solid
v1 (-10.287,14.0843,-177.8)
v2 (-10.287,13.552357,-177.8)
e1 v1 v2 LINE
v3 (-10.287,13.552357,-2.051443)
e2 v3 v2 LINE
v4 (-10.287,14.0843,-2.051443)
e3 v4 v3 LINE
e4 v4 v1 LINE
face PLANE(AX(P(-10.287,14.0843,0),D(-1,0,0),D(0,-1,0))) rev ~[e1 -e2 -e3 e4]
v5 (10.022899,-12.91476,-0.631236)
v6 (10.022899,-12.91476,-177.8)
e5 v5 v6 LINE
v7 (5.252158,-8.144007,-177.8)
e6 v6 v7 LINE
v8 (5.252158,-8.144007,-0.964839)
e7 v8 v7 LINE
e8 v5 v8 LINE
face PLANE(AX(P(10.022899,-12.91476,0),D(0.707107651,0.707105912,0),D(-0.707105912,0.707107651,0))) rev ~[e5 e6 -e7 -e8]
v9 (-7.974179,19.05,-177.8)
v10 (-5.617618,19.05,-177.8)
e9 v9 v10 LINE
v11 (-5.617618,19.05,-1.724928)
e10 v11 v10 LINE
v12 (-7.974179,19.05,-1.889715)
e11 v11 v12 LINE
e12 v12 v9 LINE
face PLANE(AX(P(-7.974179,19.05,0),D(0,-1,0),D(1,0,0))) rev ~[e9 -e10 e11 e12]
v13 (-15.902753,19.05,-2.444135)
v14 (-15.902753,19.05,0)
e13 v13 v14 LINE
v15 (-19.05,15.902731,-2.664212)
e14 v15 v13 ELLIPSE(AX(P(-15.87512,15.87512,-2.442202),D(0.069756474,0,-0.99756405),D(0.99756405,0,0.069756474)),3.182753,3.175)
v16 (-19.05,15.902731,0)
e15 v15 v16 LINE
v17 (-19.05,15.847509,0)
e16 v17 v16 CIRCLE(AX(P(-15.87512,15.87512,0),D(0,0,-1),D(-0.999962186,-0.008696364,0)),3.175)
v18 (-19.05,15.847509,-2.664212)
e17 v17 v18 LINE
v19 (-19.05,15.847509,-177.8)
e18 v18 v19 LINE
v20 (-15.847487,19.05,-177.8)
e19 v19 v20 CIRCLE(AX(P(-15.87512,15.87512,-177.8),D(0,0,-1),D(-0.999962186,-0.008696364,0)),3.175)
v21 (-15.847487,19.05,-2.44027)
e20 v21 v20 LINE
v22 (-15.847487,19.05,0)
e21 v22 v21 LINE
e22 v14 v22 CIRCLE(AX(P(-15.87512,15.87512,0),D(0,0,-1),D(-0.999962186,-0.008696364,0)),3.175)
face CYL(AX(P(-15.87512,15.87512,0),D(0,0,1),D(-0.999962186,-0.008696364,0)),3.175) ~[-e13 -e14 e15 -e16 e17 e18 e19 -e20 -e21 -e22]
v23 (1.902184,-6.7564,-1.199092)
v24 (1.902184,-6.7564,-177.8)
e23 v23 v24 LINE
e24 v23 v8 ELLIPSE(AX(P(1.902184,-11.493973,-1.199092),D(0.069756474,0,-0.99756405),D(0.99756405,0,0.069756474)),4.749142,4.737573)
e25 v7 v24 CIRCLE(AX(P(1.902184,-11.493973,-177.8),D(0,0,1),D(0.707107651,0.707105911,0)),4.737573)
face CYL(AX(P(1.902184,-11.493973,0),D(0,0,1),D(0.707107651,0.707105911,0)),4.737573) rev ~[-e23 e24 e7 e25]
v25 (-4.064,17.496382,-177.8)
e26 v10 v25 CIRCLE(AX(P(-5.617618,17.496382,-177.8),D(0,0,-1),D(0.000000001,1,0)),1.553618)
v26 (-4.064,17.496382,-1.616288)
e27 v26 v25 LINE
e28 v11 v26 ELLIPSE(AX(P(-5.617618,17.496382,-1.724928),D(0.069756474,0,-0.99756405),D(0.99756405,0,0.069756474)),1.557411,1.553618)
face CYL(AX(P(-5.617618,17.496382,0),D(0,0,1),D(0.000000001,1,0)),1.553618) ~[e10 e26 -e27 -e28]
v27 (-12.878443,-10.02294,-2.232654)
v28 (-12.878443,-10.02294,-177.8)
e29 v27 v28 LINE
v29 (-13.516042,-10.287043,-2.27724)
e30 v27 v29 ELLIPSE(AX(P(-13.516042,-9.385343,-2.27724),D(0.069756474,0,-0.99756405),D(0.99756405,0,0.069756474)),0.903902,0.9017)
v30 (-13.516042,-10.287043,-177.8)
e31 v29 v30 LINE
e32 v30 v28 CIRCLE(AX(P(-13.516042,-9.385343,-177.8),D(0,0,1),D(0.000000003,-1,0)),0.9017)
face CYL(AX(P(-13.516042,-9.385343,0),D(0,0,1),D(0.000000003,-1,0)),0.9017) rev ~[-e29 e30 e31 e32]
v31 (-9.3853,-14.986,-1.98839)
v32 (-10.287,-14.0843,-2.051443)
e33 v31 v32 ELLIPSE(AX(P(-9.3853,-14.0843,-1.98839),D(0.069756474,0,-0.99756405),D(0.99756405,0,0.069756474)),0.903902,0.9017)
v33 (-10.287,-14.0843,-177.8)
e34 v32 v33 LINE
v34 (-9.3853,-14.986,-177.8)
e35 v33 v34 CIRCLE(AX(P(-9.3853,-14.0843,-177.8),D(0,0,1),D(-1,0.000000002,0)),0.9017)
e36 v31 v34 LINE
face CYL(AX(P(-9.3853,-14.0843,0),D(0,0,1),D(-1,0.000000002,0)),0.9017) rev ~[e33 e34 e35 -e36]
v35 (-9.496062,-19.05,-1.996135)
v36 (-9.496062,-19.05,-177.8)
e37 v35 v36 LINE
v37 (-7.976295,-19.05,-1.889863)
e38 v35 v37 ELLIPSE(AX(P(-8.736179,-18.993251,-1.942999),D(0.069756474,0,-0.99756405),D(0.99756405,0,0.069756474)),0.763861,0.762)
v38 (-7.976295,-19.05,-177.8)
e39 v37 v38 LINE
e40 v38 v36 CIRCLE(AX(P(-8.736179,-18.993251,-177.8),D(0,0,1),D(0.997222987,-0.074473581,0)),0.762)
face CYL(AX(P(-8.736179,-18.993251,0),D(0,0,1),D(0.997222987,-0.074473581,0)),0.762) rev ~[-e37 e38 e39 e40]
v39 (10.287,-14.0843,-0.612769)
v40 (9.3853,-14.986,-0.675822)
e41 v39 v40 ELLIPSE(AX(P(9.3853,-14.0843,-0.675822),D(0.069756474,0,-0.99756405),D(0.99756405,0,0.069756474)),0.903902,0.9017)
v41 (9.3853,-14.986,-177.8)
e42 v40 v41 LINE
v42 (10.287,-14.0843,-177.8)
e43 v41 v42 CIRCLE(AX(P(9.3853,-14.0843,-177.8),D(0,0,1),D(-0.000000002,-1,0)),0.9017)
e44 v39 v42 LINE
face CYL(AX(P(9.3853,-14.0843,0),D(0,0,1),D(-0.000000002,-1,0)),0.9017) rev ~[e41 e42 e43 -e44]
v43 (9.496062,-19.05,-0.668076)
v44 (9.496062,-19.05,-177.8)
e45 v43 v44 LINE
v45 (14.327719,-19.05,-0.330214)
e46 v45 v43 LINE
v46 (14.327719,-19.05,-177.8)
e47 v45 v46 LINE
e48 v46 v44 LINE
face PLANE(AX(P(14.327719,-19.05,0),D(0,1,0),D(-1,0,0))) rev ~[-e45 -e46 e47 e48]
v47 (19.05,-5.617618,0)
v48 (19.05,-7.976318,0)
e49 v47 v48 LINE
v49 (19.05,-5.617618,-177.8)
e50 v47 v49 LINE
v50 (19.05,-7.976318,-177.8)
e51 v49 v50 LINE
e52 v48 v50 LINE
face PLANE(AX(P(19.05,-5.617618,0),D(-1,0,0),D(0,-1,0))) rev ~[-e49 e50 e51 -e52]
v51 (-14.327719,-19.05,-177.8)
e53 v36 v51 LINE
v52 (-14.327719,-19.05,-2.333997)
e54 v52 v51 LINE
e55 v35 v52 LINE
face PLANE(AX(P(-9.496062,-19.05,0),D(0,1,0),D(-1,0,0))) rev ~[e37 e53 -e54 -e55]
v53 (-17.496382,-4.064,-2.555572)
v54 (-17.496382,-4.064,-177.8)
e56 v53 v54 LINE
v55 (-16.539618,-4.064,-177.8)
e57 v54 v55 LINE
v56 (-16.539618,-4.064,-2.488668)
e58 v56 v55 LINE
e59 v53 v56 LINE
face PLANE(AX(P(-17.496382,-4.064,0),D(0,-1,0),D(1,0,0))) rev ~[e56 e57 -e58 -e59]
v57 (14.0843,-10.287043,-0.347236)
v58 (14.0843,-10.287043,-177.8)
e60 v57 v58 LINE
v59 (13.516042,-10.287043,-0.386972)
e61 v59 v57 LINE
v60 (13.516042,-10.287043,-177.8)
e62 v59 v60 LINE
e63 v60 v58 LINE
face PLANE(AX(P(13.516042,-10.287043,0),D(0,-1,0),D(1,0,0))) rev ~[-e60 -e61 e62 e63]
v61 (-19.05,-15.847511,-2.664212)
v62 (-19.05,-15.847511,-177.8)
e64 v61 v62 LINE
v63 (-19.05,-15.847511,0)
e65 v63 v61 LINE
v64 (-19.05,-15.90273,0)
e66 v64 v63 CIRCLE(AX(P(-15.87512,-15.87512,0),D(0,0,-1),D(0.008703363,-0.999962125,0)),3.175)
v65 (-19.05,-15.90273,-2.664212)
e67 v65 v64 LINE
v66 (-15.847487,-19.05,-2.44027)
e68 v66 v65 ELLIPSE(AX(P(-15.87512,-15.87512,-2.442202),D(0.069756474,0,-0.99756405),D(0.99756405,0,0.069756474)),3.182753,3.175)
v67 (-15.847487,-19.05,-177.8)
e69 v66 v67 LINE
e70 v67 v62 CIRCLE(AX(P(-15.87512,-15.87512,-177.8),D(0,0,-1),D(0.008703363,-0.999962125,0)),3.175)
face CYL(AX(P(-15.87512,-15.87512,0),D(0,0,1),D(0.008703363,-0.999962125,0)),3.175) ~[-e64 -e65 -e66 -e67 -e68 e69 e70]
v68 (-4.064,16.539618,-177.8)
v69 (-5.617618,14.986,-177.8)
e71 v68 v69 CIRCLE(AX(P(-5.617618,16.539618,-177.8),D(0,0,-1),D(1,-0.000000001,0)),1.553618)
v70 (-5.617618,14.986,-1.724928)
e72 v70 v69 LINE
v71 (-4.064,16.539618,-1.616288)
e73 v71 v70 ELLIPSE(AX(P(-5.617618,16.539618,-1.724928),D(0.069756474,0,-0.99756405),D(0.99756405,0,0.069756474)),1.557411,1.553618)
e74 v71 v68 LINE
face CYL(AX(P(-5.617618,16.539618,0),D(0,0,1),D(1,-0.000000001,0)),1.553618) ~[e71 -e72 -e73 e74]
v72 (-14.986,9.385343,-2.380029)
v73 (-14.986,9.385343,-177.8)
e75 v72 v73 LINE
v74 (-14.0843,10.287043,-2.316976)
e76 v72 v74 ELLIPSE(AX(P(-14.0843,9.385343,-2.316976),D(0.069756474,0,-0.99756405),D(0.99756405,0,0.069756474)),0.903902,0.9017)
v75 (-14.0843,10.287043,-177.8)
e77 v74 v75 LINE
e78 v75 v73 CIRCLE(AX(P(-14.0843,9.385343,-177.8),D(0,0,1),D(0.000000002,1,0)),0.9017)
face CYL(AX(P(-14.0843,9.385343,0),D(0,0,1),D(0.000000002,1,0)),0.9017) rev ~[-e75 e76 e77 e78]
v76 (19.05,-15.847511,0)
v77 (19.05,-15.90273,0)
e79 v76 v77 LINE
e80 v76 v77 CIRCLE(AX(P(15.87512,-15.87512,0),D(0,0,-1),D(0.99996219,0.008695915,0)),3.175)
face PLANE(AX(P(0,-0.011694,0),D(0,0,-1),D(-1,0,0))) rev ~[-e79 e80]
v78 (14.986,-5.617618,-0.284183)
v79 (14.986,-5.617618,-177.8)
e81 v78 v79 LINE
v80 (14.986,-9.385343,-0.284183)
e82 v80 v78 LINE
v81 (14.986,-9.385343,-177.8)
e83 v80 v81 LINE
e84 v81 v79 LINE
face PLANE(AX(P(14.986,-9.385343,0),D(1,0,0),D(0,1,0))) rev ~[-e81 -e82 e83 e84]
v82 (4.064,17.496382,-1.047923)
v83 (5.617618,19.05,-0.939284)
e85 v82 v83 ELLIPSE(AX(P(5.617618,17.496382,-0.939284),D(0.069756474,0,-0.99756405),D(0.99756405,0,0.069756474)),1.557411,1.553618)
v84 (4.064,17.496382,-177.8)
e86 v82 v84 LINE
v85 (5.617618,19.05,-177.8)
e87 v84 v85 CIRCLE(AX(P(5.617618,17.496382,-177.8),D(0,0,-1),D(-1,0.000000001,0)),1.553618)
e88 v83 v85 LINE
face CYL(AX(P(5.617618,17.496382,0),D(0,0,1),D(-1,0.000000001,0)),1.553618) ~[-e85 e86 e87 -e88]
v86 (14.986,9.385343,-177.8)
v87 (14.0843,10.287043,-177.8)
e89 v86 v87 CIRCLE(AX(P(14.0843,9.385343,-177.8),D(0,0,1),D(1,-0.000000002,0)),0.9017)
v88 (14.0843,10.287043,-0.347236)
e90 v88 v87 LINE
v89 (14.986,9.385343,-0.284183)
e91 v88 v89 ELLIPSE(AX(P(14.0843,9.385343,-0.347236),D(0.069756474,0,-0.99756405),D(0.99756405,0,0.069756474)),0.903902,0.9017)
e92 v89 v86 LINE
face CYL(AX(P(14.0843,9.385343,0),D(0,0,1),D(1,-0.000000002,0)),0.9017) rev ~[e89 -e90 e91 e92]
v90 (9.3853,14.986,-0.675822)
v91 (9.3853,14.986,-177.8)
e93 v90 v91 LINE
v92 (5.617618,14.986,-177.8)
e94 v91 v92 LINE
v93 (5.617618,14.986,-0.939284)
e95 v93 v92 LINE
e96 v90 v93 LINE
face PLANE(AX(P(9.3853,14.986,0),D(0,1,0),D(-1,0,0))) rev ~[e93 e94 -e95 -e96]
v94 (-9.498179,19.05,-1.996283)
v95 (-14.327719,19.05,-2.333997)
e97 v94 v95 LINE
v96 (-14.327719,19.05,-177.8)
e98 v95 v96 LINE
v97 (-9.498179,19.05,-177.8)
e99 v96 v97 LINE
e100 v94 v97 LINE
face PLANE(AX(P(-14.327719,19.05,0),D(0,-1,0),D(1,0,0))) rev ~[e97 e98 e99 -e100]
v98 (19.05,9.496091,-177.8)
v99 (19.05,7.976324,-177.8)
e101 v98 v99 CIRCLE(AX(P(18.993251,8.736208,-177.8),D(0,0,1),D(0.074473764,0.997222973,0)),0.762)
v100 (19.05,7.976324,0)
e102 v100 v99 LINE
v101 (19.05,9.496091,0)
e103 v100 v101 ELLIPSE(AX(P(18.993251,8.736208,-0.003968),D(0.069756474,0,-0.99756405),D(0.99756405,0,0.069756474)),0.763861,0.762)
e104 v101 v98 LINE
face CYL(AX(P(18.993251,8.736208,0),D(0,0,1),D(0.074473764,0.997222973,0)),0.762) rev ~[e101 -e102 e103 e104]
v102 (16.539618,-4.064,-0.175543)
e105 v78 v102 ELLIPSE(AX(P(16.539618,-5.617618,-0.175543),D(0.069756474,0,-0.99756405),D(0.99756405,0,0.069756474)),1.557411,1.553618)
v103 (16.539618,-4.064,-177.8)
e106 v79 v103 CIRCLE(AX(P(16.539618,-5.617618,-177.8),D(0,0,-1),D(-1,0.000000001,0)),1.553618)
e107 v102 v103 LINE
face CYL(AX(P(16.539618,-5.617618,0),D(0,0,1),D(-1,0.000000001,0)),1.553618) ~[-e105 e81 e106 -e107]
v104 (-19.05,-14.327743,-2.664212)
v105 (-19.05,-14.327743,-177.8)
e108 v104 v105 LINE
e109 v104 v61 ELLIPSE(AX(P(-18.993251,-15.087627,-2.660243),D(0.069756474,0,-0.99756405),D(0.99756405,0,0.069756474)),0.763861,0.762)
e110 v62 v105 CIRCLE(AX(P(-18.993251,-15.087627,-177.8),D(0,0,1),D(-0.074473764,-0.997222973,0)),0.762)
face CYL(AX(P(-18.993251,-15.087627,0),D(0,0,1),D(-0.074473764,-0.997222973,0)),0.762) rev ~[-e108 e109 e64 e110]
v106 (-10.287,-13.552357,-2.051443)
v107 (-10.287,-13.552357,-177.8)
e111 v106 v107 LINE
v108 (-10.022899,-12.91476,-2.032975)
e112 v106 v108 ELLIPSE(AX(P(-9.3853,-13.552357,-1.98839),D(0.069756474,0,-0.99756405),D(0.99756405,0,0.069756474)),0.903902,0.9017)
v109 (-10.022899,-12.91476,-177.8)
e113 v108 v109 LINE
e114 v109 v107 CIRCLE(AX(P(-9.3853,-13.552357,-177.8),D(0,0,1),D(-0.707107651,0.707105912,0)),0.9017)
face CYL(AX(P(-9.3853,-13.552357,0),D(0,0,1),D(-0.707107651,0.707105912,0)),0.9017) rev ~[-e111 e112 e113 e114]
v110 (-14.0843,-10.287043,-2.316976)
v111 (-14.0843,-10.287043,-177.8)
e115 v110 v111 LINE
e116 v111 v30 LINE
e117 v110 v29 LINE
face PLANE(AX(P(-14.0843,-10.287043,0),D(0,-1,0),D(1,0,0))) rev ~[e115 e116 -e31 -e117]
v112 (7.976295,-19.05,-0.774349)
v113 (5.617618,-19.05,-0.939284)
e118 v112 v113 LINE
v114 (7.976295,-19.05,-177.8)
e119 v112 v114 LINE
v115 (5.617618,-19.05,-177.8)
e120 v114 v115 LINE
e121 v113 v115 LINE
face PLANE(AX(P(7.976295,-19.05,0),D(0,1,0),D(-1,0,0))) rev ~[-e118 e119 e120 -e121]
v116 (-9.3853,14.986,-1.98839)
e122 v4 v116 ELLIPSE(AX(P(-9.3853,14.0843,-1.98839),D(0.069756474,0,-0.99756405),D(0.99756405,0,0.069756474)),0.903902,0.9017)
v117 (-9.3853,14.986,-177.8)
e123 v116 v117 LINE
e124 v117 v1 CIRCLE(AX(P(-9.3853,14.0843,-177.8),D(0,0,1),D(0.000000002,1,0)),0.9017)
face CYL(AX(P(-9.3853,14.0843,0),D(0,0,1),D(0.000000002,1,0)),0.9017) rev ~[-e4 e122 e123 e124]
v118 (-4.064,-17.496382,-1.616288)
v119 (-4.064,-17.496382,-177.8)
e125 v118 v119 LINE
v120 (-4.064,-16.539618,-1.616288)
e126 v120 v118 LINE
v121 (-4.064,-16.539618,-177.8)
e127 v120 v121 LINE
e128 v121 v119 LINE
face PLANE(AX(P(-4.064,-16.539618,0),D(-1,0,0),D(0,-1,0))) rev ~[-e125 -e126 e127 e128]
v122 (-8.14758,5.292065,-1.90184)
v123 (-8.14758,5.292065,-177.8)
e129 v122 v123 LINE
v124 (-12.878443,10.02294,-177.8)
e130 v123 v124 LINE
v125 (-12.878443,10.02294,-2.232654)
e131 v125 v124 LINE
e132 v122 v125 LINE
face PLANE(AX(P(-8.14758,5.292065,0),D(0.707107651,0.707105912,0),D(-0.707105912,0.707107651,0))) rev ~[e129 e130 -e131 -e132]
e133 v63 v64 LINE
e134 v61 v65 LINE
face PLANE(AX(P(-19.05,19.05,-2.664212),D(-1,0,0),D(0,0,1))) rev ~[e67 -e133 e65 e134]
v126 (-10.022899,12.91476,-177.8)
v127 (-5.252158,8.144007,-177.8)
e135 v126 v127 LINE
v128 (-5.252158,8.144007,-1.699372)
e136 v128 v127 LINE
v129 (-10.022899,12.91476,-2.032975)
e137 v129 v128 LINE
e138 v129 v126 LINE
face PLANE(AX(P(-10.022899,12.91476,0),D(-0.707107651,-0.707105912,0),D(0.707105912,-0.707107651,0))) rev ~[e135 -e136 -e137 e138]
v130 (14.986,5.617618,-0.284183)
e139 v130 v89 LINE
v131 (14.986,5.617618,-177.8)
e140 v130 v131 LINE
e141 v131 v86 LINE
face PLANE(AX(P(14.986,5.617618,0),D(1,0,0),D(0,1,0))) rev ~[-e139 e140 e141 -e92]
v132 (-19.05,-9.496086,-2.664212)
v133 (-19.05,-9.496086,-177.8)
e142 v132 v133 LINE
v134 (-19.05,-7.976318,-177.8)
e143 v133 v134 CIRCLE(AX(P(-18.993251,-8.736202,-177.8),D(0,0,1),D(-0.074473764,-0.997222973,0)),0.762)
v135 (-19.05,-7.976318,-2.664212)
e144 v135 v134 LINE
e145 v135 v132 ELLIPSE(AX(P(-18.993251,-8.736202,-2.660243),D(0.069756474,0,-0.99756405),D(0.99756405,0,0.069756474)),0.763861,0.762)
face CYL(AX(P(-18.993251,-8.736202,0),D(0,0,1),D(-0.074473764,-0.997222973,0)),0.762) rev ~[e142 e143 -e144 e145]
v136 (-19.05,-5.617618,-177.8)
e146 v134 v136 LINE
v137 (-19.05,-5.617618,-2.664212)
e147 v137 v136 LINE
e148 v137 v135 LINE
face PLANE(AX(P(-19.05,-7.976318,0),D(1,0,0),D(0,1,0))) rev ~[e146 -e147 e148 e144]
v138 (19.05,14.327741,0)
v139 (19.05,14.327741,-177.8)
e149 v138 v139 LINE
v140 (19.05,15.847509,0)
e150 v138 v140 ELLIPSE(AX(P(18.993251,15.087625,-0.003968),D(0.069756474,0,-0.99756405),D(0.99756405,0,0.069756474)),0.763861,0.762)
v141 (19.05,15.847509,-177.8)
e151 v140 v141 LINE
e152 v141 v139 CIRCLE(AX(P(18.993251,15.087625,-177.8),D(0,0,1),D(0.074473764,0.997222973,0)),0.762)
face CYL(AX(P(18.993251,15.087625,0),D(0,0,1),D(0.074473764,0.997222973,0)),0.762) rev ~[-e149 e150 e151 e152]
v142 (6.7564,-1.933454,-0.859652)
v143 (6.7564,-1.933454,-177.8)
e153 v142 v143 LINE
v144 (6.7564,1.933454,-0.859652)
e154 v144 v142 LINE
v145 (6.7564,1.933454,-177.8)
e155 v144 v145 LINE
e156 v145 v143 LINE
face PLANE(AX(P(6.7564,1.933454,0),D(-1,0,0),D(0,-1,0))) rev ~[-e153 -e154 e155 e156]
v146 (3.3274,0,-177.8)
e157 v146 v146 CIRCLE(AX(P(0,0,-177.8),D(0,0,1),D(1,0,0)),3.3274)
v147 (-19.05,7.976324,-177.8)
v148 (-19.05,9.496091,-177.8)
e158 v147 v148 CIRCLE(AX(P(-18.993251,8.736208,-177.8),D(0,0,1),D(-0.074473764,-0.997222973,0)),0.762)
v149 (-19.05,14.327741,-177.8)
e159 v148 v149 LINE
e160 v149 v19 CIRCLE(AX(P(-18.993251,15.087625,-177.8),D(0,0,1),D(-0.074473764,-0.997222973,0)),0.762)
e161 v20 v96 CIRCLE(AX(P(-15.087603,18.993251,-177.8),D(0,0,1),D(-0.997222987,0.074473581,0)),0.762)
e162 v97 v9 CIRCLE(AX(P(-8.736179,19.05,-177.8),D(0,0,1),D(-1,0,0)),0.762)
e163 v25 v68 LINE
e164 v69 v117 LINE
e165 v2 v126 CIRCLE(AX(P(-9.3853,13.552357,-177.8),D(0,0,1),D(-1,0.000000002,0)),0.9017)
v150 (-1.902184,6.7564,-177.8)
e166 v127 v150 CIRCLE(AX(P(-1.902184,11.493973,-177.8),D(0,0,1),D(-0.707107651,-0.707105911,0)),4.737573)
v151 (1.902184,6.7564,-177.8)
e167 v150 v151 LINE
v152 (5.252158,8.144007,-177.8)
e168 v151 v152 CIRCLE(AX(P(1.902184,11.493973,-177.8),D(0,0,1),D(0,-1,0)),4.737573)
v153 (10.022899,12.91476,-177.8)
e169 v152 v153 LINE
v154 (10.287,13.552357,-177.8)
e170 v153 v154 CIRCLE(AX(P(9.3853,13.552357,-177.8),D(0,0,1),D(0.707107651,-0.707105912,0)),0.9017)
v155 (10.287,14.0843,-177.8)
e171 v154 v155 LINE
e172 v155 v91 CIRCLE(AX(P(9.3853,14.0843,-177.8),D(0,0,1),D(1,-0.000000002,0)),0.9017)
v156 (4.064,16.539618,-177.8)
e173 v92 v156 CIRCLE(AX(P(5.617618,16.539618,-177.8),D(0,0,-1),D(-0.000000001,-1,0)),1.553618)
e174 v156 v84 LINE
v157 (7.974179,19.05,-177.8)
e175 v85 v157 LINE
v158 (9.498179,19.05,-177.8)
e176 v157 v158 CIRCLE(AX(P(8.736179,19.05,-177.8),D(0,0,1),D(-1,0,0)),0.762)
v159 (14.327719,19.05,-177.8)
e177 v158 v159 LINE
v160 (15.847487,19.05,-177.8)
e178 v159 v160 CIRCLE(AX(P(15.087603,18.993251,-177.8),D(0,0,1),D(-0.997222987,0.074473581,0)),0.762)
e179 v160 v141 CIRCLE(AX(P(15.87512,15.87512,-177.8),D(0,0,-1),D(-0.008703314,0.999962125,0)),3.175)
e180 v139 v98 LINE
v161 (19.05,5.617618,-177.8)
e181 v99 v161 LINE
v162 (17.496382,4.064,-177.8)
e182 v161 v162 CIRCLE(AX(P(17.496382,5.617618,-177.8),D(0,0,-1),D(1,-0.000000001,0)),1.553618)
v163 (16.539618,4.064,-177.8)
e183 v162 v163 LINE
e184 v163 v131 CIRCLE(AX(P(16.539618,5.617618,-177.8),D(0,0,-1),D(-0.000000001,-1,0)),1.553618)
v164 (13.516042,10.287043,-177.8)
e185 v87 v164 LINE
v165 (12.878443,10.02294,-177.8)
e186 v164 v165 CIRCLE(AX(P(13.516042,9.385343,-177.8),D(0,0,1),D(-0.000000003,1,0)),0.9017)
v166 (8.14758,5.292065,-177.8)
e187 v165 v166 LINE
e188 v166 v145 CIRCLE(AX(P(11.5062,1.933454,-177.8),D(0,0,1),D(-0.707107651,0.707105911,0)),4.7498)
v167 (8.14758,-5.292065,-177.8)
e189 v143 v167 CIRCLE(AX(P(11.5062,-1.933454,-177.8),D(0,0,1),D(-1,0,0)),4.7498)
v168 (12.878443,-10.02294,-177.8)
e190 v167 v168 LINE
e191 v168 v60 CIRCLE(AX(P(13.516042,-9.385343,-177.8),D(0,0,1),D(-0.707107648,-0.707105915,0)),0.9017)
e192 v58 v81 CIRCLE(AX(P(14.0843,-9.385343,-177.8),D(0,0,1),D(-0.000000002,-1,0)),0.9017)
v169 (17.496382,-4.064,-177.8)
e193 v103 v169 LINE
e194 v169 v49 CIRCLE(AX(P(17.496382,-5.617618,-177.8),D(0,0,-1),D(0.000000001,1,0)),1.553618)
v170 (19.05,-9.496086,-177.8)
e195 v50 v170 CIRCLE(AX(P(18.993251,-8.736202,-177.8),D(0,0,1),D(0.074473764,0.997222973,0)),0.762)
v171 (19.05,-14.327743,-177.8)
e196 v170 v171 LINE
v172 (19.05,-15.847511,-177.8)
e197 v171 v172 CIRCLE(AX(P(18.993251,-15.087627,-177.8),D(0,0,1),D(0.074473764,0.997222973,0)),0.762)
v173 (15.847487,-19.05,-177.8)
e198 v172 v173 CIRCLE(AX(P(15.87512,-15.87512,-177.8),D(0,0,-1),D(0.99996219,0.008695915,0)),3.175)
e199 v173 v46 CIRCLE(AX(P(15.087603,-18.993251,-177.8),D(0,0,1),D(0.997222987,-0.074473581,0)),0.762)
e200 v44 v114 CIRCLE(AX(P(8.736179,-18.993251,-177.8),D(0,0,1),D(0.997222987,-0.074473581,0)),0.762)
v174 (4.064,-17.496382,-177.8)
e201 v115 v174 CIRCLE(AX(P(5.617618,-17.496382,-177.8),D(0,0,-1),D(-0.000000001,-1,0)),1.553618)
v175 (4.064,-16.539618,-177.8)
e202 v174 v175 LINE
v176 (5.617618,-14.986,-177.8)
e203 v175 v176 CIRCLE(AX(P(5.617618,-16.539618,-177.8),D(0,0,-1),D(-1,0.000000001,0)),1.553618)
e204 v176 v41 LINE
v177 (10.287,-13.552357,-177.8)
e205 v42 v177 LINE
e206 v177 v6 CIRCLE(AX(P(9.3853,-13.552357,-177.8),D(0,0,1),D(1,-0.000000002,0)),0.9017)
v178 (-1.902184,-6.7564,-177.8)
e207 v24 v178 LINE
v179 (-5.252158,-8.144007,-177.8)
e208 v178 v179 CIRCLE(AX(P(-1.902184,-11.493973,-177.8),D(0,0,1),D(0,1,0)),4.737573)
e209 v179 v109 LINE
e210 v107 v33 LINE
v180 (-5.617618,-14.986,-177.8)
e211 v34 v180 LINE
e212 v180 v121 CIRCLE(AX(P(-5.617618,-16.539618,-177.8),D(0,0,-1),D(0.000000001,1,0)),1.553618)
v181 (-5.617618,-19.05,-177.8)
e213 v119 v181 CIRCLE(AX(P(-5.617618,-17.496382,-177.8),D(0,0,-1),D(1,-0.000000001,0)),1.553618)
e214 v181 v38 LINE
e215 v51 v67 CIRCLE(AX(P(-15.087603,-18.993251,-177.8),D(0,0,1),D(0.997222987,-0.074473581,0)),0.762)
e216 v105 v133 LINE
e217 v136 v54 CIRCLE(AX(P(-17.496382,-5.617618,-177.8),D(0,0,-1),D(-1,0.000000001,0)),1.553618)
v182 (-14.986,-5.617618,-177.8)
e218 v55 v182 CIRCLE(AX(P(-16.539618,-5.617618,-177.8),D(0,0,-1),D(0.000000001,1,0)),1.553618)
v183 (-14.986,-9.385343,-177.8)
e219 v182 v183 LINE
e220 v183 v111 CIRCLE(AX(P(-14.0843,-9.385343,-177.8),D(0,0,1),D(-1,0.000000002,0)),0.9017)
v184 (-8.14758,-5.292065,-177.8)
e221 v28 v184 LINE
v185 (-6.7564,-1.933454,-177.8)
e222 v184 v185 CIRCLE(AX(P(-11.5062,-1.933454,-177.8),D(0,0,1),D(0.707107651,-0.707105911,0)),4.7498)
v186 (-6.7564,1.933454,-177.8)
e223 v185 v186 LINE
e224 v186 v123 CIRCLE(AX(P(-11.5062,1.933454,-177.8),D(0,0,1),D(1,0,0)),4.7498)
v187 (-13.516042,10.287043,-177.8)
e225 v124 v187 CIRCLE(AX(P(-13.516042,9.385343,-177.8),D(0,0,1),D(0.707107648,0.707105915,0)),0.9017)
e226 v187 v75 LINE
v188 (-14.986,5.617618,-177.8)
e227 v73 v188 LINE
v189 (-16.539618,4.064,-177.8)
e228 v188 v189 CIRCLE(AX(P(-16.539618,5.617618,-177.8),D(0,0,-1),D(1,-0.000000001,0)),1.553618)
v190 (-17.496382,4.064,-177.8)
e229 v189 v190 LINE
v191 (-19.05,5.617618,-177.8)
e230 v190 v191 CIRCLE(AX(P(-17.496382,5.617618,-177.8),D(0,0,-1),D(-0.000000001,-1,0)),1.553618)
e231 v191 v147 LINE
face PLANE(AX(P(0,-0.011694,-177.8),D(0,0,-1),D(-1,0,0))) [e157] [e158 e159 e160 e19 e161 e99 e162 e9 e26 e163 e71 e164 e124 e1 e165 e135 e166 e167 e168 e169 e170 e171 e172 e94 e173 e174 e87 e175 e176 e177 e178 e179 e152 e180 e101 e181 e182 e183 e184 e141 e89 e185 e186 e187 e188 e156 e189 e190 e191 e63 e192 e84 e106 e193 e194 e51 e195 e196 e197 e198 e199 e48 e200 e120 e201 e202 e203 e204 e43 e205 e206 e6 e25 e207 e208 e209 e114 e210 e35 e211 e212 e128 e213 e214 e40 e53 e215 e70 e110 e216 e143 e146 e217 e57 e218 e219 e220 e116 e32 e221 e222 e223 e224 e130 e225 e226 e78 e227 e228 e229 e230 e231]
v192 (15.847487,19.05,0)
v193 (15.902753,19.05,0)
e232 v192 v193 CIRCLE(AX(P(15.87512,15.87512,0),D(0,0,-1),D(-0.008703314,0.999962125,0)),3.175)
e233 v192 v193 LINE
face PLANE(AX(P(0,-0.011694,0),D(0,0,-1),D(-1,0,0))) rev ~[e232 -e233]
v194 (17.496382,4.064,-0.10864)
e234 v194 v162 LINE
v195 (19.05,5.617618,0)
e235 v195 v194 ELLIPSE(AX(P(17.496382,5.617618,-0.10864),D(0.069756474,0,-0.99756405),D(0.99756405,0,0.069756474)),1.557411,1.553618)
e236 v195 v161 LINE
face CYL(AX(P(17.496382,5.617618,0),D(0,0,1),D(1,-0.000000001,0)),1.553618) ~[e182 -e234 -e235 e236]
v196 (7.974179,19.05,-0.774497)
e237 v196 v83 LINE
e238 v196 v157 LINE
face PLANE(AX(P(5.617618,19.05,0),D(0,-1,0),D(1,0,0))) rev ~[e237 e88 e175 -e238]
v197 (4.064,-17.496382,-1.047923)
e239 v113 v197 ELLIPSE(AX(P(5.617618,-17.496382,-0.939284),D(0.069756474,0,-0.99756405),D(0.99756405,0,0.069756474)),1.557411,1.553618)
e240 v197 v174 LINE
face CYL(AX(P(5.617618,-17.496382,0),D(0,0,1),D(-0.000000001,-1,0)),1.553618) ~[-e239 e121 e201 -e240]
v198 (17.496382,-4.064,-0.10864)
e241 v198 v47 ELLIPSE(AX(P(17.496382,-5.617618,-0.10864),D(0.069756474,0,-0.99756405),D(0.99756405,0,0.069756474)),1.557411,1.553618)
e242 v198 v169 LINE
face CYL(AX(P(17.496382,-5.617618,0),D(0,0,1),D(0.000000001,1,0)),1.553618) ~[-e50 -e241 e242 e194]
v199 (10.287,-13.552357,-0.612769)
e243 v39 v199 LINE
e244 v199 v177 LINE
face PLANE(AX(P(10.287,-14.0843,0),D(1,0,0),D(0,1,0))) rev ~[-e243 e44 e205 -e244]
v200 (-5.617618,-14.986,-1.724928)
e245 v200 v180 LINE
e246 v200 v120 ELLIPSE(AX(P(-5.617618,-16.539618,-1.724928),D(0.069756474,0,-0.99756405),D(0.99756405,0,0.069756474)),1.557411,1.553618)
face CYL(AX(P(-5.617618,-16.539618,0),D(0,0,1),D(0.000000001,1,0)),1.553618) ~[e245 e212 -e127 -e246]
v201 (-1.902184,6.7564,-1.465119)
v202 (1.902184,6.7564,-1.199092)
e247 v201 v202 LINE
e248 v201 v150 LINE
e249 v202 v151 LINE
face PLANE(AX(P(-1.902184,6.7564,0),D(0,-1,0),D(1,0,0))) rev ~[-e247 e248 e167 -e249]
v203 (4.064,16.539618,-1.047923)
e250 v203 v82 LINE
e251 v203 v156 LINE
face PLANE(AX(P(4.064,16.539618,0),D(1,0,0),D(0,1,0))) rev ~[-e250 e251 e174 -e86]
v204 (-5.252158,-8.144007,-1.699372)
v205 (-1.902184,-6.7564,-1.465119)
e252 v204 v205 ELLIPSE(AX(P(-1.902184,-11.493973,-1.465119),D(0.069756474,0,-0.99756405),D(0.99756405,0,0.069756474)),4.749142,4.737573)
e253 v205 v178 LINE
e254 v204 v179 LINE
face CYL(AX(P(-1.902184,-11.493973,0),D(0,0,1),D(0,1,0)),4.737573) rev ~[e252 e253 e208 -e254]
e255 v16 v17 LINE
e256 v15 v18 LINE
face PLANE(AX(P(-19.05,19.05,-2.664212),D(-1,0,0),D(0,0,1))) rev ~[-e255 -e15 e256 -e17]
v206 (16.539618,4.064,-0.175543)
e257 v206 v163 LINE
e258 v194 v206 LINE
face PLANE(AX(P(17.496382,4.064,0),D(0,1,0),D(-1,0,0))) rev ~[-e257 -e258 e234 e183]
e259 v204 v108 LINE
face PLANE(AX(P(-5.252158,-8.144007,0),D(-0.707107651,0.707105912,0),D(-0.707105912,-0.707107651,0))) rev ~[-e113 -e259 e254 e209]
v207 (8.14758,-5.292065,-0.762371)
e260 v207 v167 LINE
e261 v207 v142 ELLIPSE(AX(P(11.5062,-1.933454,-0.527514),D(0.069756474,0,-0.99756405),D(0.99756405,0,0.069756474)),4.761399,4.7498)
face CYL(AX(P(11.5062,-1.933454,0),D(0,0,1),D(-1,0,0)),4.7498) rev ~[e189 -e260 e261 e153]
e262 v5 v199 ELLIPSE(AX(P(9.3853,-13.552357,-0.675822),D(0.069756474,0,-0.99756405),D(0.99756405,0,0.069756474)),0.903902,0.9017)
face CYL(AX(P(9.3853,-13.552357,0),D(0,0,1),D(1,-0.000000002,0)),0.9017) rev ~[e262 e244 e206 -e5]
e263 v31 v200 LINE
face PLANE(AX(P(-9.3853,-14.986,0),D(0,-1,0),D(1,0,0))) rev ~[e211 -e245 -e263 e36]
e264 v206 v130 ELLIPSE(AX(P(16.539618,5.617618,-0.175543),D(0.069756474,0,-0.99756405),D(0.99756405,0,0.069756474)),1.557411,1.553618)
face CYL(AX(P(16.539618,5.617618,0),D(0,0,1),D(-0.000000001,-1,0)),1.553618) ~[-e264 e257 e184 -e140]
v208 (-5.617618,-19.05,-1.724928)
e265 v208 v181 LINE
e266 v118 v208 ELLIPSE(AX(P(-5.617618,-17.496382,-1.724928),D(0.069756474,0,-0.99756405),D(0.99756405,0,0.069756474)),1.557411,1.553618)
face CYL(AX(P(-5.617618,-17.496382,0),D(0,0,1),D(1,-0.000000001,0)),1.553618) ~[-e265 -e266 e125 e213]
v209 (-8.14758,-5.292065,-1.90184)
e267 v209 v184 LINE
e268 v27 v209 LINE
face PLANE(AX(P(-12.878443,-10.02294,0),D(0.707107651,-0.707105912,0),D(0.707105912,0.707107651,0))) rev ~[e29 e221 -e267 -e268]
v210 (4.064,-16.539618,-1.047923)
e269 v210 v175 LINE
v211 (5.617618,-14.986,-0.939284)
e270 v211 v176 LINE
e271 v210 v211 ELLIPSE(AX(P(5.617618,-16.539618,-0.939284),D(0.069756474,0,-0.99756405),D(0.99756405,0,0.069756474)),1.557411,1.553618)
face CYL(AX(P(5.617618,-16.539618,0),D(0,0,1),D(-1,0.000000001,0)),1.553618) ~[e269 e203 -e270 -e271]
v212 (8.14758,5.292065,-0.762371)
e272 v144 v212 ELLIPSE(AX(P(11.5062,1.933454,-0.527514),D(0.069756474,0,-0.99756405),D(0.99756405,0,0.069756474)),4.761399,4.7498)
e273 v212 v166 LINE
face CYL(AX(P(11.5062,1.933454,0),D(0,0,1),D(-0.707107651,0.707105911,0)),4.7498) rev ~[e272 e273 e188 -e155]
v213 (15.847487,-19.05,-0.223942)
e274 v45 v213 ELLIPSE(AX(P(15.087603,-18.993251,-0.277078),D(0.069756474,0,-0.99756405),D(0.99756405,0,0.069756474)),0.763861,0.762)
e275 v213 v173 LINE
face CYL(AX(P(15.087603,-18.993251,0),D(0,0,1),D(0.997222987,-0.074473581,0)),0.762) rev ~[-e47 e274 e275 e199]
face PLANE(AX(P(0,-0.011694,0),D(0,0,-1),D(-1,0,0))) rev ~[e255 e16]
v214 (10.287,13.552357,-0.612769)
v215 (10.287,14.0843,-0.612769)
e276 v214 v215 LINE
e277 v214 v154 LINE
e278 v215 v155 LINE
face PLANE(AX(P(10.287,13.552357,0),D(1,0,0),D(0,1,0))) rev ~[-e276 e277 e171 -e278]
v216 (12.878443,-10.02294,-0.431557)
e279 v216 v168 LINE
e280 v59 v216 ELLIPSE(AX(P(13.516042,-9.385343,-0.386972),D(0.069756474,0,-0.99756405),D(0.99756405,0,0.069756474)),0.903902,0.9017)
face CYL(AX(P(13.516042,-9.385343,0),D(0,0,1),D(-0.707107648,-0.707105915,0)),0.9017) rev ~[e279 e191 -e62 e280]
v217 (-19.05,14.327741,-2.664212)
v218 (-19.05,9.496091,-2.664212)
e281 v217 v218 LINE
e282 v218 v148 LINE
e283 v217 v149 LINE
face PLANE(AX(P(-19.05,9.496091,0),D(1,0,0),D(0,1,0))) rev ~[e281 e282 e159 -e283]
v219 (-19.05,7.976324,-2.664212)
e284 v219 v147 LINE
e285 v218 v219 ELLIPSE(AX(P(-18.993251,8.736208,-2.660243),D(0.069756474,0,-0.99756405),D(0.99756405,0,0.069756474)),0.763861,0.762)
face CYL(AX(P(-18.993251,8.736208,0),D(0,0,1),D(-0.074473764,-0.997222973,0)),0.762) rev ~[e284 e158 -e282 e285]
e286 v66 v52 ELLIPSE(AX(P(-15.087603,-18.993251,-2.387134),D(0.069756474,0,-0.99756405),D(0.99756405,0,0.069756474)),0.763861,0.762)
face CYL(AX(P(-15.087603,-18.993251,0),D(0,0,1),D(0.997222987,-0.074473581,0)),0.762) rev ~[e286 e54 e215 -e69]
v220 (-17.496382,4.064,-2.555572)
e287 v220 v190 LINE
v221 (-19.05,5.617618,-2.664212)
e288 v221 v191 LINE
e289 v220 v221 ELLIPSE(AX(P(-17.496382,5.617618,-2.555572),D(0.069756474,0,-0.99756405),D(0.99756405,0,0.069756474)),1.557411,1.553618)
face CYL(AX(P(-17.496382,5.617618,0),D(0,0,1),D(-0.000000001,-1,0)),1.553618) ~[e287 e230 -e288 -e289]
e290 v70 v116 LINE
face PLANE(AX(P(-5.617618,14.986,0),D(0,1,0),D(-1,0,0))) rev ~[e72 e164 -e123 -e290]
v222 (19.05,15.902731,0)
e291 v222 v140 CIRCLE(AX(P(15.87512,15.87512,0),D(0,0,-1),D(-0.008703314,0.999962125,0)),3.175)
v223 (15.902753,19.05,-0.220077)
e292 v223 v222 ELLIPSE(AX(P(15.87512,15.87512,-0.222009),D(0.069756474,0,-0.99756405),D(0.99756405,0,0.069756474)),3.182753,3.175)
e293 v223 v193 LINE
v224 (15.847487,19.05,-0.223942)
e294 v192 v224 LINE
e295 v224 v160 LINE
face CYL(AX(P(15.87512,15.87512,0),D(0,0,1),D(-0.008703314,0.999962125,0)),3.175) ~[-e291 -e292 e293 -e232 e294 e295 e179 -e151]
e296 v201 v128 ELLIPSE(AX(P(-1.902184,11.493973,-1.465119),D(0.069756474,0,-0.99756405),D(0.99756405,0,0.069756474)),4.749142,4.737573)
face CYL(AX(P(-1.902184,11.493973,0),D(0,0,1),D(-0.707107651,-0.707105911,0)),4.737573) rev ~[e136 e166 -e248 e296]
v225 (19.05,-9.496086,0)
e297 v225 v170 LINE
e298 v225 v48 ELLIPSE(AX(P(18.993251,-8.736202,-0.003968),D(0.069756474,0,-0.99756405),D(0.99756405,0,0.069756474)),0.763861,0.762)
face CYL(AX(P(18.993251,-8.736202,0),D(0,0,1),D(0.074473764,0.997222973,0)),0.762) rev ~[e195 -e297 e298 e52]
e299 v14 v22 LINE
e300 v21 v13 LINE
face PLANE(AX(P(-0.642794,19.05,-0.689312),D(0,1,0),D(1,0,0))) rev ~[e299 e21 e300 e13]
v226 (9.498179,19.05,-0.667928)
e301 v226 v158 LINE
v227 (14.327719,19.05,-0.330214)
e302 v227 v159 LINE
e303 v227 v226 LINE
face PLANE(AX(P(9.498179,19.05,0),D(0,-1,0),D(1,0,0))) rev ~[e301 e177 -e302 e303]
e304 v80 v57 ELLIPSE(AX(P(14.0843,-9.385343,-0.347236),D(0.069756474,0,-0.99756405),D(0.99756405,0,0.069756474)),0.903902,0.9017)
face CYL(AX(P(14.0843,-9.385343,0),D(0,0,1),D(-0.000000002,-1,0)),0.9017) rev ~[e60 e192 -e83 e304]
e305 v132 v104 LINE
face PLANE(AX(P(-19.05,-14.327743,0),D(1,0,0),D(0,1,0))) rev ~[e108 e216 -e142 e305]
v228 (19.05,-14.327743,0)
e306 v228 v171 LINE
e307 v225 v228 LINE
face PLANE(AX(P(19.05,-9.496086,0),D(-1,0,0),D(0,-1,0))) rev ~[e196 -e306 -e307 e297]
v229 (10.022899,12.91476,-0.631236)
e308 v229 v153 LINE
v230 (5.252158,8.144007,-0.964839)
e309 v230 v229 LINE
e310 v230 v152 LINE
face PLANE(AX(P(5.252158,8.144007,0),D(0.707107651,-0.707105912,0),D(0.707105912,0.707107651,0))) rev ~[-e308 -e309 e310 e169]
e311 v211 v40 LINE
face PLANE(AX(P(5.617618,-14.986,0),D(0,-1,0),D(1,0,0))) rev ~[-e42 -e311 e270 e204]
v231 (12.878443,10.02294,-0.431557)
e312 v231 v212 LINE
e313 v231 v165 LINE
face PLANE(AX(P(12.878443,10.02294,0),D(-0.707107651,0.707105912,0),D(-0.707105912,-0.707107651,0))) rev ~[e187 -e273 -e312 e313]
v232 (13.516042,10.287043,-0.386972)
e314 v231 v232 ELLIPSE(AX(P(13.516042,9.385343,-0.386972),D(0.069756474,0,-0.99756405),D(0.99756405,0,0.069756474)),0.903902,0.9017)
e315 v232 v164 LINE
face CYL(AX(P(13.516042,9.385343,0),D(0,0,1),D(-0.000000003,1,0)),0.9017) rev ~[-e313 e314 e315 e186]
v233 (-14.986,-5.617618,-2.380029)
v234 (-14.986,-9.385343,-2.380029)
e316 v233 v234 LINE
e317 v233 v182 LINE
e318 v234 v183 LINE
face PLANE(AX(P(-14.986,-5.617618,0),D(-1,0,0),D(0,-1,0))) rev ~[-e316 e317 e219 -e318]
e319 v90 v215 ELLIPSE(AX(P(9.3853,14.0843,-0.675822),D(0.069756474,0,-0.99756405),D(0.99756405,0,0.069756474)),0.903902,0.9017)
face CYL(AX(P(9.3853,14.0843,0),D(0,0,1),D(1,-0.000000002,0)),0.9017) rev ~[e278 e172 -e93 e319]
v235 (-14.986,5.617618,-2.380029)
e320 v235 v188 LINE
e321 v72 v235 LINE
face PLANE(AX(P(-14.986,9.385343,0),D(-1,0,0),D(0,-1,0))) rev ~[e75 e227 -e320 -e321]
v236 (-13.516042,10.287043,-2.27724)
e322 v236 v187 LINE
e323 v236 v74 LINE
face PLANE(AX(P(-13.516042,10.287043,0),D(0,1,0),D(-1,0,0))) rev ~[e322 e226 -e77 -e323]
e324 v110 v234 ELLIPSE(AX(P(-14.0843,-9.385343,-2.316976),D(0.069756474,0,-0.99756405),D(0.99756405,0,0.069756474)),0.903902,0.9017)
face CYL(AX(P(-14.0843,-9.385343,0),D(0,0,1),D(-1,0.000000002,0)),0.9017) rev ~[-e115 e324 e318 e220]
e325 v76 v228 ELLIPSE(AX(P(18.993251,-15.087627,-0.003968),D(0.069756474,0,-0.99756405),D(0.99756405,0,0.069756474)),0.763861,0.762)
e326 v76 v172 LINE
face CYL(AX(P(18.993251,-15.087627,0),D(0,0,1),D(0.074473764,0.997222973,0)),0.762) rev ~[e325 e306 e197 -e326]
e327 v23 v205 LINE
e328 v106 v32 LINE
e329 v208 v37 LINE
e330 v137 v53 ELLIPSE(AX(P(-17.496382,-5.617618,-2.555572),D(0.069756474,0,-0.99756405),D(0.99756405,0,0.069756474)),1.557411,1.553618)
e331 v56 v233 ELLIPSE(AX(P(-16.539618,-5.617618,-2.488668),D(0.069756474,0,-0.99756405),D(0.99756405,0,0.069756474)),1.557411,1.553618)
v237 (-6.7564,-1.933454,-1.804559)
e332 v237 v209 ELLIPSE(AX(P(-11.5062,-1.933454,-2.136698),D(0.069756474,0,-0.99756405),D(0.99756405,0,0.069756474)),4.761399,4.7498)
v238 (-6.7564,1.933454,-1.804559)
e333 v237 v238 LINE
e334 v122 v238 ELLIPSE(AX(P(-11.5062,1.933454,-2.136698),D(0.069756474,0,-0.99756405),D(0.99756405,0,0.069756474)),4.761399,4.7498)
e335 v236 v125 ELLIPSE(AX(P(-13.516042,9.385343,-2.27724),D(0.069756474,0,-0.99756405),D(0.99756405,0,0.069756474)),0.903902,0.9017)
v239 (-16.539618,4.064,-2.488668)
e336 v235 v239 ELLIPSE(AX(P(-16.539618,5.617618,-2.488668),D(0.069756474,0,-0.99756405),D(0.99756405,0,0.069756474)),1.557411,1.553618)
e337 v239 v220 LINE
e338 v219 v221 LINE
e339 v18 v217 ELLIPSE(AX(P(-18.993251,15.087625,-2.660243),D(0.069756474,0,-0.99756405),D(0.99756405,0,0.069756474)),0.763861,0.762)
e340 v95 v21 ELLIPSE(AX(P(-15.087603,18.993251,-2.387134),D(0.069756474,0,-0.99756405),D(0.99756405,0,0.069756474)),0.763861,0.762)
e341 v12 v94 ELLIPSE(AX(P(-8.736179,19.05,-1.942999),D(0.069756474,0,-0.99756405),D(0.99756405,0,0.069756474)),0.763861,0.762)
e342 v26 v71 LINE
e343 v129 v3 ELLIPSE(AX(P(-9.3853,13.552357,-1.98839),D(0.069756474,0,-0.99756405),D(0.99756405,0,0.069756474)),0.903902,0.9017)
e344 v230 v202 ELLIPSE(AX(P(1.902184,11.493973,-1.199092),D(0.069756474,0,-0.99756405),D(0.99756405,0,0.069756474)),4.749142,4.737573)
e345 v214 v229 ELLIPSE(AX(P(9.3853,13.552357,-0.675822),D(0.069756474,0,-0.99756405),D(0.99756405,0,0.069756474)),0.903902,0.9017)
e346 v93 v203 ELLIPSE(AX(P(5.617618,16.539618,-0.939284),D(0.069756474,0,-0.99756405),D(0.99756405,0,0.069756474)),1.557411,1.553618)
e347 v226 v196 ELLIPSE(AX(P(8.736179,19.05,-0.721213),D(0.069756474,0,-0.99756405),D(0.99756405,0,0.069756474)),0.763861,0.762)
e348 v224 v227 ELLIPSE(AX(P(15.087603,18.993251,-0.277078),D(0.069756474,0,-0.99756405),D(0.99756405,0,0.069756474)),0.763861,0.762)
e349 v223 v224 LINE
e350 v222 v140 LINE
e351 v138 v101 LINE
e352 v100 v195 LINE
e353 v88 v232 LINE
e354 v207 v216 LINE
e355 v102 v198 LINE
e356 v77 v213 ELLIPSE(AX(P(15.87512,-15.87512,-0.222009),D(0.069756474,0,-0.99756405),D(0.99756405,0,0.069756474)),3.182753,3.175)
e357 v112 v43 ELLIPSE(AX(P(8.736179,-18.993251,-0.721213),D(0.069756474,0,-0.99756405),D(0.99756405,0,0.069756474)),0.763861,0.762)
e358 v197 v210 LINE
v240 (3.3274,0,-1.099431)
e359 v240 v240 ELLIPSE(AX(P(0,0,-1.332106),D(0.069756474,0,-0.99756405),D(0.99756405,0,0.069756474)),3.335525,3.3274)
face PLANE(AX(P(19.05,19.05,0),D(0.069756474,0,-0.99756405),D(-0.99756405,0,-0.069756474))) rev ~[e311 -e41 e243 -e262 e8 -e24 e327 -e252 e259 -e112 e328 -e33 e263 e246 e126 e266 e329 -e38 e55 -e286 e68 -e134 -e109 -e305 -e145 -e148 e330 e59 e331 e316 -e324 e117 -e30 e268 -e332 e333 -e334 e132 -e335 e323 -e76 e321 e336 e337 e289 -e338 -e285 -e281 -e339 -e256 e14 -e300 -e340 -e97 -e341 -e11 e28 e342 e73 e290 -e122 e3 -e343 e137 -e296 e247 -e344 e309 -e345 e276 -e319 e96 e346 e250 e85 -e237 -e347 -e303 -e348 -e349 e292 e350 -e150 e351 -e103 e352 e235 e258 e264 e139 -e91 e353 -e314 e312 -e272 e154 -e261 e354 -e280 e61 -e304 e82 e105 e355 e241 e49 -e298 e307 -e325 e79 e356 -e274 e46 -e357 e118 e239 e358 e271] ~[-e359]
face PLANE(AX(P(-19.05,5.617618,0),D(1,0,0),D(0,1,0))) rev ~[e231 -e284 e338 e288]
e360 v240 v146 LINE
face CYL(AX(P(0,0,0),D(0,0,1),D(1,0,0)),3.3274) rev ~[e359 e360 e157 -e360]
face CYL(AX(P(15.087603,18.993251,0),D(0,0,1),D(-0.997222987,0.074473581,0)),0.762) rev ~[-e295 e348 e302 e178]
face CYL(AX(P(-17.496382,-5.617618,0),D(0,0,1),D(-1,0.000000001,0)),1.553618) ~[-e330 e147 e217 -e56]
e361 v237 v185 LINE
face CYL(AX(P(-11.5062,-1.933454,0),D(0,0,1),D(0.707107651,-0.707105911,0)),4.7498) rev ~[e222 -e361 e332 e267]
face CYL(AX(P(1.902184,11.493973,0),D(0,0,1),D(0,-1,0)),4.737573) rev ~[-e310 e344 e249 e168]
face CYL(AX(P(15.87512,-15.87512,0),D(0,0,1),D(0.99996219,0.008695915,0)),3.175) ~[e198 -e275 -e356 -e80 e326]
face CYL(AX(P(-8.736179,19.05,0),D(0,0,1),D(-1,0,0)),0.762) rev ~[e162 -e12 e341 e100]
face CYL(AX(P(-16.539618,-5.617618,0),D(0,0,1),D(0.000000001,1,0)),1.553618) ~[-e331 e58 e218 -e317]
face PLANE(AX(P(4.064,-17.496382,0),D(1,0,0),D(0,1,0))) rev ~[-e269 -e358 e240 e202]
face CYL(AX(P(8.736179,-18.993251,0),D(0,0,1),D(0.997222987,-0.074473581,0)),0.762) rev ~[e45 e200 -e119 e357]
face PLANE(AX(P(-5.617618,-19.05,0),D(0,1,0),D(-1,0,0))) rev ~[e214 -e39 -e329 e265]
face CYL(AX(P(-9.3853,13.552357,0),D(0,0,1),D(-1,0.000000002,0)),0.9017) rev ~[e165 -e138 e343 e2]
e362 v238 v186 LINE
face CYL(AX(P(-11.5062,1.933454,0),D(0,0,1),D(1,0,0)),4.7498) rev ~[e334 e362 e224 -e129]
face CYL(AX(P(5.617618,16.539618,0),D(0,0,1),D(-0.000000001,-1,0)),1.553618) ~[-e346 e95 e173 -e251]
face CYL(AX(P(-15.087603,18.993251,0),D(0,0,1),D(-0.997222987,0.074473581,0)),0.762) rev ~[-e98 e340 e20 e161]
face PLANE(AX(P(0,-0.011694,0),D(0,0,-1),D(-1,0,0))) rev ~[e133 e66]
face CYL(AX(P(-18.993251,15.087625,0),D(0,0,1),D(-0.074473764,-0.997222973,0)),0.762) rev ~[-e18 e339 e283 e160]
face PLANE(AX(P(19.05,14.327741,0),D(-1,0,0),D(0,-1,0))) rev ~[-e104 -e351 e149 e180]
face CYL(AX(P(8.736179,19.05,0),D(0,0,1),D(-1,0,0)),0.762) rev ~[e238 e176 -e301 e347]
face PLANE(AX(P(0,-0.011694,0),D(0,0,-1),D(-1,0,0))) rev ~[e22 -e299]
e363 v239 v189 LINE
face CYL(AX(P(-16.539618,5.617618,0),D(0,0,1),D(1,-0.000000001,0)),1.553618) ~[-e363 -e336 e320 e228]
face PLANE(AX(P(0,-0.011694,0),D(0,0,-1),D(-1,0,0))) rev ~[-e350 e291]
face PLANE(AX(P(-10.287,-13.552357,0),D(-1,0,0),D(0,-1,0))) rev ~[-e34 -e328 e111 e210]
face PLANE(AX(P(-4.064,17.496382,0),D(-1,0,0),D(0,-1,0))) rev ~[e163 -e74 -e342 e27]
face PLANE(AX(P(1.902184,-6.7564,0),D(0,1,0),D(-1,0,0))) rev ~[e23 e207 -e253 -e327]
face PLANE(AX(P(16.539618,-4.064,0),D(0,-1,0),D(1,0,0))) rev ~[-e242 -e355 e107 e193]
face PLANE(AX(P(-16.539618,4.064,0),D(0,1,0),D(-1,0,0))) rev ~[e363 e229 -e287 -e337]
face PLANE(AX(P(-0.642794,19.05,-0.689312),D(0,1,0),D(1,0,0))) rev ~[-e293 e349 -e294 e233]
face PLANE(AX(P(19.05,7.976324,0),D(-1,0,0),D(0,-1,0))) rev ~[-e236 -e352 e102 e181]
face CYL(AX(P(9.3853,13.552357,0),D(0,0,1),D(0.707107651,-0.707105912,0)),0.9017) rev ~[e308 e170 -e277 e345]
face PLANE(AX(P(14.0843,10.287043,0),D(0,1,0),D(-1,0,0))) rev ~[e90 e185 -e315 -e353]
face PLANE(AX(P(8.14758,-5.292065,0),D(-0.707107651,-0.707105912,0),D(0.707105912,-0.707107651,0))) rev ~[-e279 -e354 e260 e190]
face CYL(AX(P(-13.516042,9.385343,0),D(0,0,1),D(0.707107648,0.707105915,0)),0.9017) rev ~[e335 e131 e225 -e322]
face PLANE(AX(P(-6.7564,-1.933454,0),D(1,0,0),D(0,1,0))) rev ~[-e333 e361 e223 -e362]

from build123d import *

# Parameters (mm, degrees)
SKETCH1_R          = 3.3274
EXTRUDE1_DEPTH     = 177.8
CUT_EXTRUDE1_DEPTH = 183.83152419


with BuildPart() as part:
    # Sketch1 → Extrude1 (new body)
    with BuildSketch(Plane.XY):
        with BuildLine():
            Line((-10.022898969, 12.91475973), (-5.252158105, 8.144007132))
            ThreePointArc((-5.252158105, 8.144007132), (-3.715177372, 7.117027388), (-1.902183975, 6.7564))
            Line((-1.902183975, 6.7564), (1.902183975, 6.7564))
            ThreePointArc((1.902183975, 6.7564), (3.715177372, 7.117027388), (5.252158105, 8.144007132))
            Line((5.252158105, 8.144007132), (10.022898969, 12.91475973))
            ThreePointArc((10.022898969, 12.91475973), (10.218362387, 13.207291992), (10.287, 13.552357131))
            Line((10.287, 13.552357131), (10.287, 14.0843))
            ThreePointArc((10.287, 14.0843), (10.022898185, 14.721898185), (9.3853, 14.986))
            Line((9.3853, 14.986), (5.617617549, 14.986))
            ThreePointArc((5.617617549, 14.986), (4.519044045, 15.441044045), (4.064, 16.539617549))
            Line((4.064, 16.539617549), (4.064, 17.496382451))
            ThreePointArc((4.064, 17.496382451), (4.519044045, 18.594955955), (5.617617549, 19.05))
            Line((5.617617549, 19.05), (7.974178704, 19.05))
            ThreePointArc((7.974178704, 19.05), (8.736178704, 18.288), (9.498178704, 19.05))
            Line((9.498178704, 19.05), (14.327719207, 19.05))
            ThreePointArc((14.327719207, 19.05), (15.087603123, 18.231251131), (15.847487039, 19.05))
            ThreePointArc((15.847487039, 19.05), (18.120176289, 18.120192083), (19.05, 15.847509295))
            ThreePointArc((19.05, 15.847509295), (18.231250992, 15.08762539), (19.05, 14.327741484))
            Line((19.05, 14.327741484), (19.05, 9.496091471))
            ThreePointArc((19.05, 9.496091471), (18.231250992, 8.736207565), (19.05, 7.97632366))
            Line((19.05, 7.97632366), (19.05, 5.617617549))
            ThreePointArc((19.05, 5.617617549), (18.594955955, 4.519044045), (17.496382451, 4.064))
            Line((17.496382451, 4.064), (16.539617549, 4.064))
            ThreePointArc((16.539617549, 4.064), (15.441044045, 4.519044045), (14.986, 5.617617549))
            Line((14.986, 5.617617549), (14.986, 9.385342516))
            ThreePointArc((14.986, 9.385342516), (14.721898185, 10.022940701), (14.0843, 10.287042516))
            Line((14.0843, 10.287042516), (13.516042086, 10.287042516))
            ThreePointArc((13.516042086, 10.287042516), (13.170975923, 10.218404478), (12.878443117, 10.022939917))
            Line((12.878443117, 10.022939917), (8.14758008, 5.292065243))
            ThreePointArc((8.14758008, 5.292065243), (7.117955879, 3.751120653), (6.7564, 1.933453584))
            Line((6.7564, 1.933453584), (6.7564, -1.933453584))
            ThreePointArc((6.7564, -1.933453584), (7.117955879, -3.751120653), (8.14758008, -5.292065243))
            Line((8.14758008, -5.292065243), (12.878443117, -10.022939917))
            ThreePointArc((12.878443117, -10.022939917), (13.170975923, -10.218404478), (13.516042086, -10.287042516))
            Line((13.516042086, -10.287042516), (14.0843, -10.287042516))
            ThreePointArc((14.0843, -10.287042516), (14.721898185, -10.022940701), (14.986, -9.385342516))
            Line((14.986, -9.385342516), (14.986, -5.617617549))
            ThreePointArc((14.986, -5.617617549), (15.441044045, -4.519044045), (16.539617549, -4.064))
            Line((16.539617549, -4.064), (17.496382451, -4.064))
            ThreePointArc((17.496382451, -4.064), (18.594955955, -4.519044045), (19.05, -5.617617549))
            Line((19.05, -5.617617549), (19.05, -7.976318491))
            ThreePointArc((19.05, -7.976318491), (18.231250992, -8.736202396), (19.05, -9.496086302))
            Line((19.05, -9.496086302), (19.05, -14.32774291))
            ThreePointArc((19.05, -14.32774291), (18.231250992, -15.087626816), (19.05, -15.847510721))
            ThreePointArc((19.05, -15.847510721), (18.120175716, -18.120192644), (15.847486868, -19.05))
            ThreePointArc((15.847486868, -19.05), (15.087602952, -18.231251131), (14.327719036, -19.05))
            Line((14.327719036, -19.05), (9.496062448, -19.05))
            ThreePointArc((9.496062448, -19.05), (8.736178532, -18.231251131), (7.976294616, -19.05))
            Line((7.976294616, -19.05), (5.617617549, -19.05))
            ThreePointArc((5.617617549, -19.05), (4.519044045, -18.594955955), (4.064, -17.496382451))
            Line((4.064, -17.496382451), (4.064, -16.539617549))
            ThreePointArc((4.064, -16.539617549), (4.519044045, -15.441044045), (5.617617549, -14.986))
            Line((5.617617549, -14.986), (9.3853, -14.986))
            ThreePointArc((9.3853, -14.986), (10.022898185, -14.721898185), (10.287, -14.0843))
            Line((10.287, -14.0843), (10.287, -13.552357131))
            ThreePointArc((10.287, -13.552357131), (10.218362387, -13.207291992), (10.022898969, -12.91475973))
            Line((10.022898969, -12.91475973), (5.252158105, -8.144007132))
            ThreePointArc((5.252158105, -8.144007132), (3.715177372, -7.117027388), (1.902183975, -6.7564))
            Line((1.902183975, -6.7564), (-1.902183975, -6.7564))
            ThreePointArc((-1.902183975, -6.7564), (-3.715177372, -7.117027388), (-5.252158105, -8.144007132))
            Line((-5.252158105, -8.144007132), (-10.022898969, -12.91475973))
            ThreePointArc((-10.022898969, -12.91475973), (-10.218362387, -13.207291992), (-10.287, -13.552357131))
            Line((-10.287, -13.552357131), (-10.287, -14.0843))
            ThreePointArc((-10.287, -14.0843), (-10.022898185, -14.721898185), (-9.3853, -14.986))
            Line((-9.3853, -14.986), (-5.617617549, -14.986))
            ThreePointArc((-5.617617549, -14.986), (-4.519044045, -15.441044045), (-4.064, -16.539617549))
            Line((-4.064, -16.539617549), (-4.064, -17.496382451))
            ThreePointArc((-4.064, -17.496382451), (-4.519044045, -18.594955955), (-5.617617549, -19.05))
            Line((-5.617617549, -19.05), (-7.976294616, -19.05))
            ThreePointArc((-7.976294616, -19.05), (-8.736178532, -18.231251131), (-9.496062448, -19.05))
            Line((-9.496062448, -19.05), (-14.327719036, -19.05))
            ThreePointArc((-14.327719036, -19.05), (-15.087602952, -18.231251131), (-15.847486868, -19.05))
            ThreePointArc((-15.847486868, -19.05), (-18.120175716, -18.120192644), (-19.05, -15.847510721))
            ThreePointArc((-19.05, -15.847510721), (-18.231250992, -15.087626816), (-19.05, -14.32774291))
            Line((-19.05, -14.32774291), (-19.05, -9.496086302))
            ThreePointArc((-19.05, -9.496086302), (-18.231250992, -8.736202396), (-19.05, -7.976318491))
            Line((-19.05, -7.976318491), (-19.05, -5.617617549))
            ThreePointArc((-19.05, -5.617617549), (-18.594955955, -4.519044045), (-17.496382451, -4.064))
            Line((-17.496382451, -4.064), (-16.539617549, -4.064))
            ThreePointArc((-16.539617549, -4.064), (-15.441044045, -4.519044045), (-14.986, -5.617617549))
            Line((-14.986, -5.617617549), (-14.986, -9.385342516))
            ThreePointArc((-14.986, -9.385342516), (-14.721898185, -10.022940701), (-14.0843, -10.287042516))
            Line((-14.0843, -10.287042516), (-13.516042086, -10.287042516))
            ThreePointArc((-13.516042086, -10.287042516), (-13.170975923, -10.218404478), (-12.878443117, -10.022939917))
            Line((-12.878443117, -10.022939917), (-8.14758008, -5.292065243))
            ThreePointArc((-8.14758008, -5.292065243), (-7.117955879, -3.751120653), (-6.7564, -1.933453584))
            Line((-6.7564, -1.933453584), (-6.7564, 1.933453584))
            ThreePointArc((-6.7564, 1.933453584), (-7.117955879, 3.751120653), (-8.14758008, 5.292065243))
            Line((-8.14758008, 5.292065243), (-12.878443117, 10.022939917))
            ThreePointArc((-12.878443117, 10.022939917), (-13.170975923, 10.218404478), (-13.516042086, 10.287042516))
            Line((-13.516042086, 10.287042516), (-14.0843, 10.287042516))
            ThreePointArc((-14.0843, 10.287042516), (-14.721898185, 10.022940701), (-14.986, 9.385342516))
            Line((-14.986, 9.385342516), (-14.986, 5.617617549))
            ThreePointArc((-14.986, 5.617617549), (-15.441044045, 4.519044045), (-16.539617549, 4.064))
            Line((-16.539617549, 4.064), (-17.496382451, 4.064))
            ThreePointArc((-17.496382451, 4.064), (-18.594955955, 4.519044045), (-19.05, 5.617617549))
            Line((-19.05, 5.617617549), (-19.05, 7.97632366))
            ThreePointArc((-19.05, 7.97632366), (-18.231250992, 8.736207565), (-19.05, 9.496091471))
            Line((-19.05, 9.496091471), (-19.05, 14.327741484))
            ThreePointArc((-19.05, 14.327741484), (-18.231250992, 15.08762539), (-19.05, 15.847509295))
            ThreePointArc((-19.05, 15.847509295), (-18.120176289, 18.120192083), (-15.847487039, 19.05))
            ThreePointArc((-15.847487039, 19.05), (-15.087603123, 18.231251131), (-14.327719207, 19.05))
            Line((-14.327719207, 19.05), (-9.498178704, 19.05))
            ThreePointArc((-9.498178704, 19.05), (-8.736178704, 18.288), (-7.974178704, 19.05))
            Line((-7.974178704, 19.05), (-5.617617549, 19.05))
            ThreePointArc((-5.617617549, 19.05), (-4.519044045, 18.594955955), (-4.064, 17.496382451))
            Line((-4.064, 17.496382451), (-4.064, 16.539617549))
            ThreePointArc((-4.064, 16.539617549), (-4.519044045, 15.441044045), (-5.617617549, 14.986))
            Line((-5.617617549, 14.986), (-9.3853, 14.986))
            ThreePointArc((-9.3853, 14.986), (-10.022898185, 14.721898185), (-10.287, 14.0843))
            Line((-10.287, 14.0843), (-10.287, 13.552357131))
            ThreePointArc((-10.287, 13.552357131), (-10.218362387, 13.207291992), (-10.022898969, 12.91475973))
        make_face()
        Circle(SKETCH1_R, mode=Mode.SUBTRACT)
    extrude(amount=-EXTRUDE1_DEPTH)

    # Sketch2 → Cut-Extrude1 (cut, through all)
    with BuildSketch(Plane(origin=(0, 19.05, 0), x_dir=(1, 0, 0), z_dir=(0, 1, 0))):
        Polygon((19.05, 0), (-19.05, 2.664211535), (-19.05, 0), align=None)
    extrude(amount=-CUT_EXTRUDE1_DEPTH, mode=Mode.SUBTRACT)


solid = part.part
